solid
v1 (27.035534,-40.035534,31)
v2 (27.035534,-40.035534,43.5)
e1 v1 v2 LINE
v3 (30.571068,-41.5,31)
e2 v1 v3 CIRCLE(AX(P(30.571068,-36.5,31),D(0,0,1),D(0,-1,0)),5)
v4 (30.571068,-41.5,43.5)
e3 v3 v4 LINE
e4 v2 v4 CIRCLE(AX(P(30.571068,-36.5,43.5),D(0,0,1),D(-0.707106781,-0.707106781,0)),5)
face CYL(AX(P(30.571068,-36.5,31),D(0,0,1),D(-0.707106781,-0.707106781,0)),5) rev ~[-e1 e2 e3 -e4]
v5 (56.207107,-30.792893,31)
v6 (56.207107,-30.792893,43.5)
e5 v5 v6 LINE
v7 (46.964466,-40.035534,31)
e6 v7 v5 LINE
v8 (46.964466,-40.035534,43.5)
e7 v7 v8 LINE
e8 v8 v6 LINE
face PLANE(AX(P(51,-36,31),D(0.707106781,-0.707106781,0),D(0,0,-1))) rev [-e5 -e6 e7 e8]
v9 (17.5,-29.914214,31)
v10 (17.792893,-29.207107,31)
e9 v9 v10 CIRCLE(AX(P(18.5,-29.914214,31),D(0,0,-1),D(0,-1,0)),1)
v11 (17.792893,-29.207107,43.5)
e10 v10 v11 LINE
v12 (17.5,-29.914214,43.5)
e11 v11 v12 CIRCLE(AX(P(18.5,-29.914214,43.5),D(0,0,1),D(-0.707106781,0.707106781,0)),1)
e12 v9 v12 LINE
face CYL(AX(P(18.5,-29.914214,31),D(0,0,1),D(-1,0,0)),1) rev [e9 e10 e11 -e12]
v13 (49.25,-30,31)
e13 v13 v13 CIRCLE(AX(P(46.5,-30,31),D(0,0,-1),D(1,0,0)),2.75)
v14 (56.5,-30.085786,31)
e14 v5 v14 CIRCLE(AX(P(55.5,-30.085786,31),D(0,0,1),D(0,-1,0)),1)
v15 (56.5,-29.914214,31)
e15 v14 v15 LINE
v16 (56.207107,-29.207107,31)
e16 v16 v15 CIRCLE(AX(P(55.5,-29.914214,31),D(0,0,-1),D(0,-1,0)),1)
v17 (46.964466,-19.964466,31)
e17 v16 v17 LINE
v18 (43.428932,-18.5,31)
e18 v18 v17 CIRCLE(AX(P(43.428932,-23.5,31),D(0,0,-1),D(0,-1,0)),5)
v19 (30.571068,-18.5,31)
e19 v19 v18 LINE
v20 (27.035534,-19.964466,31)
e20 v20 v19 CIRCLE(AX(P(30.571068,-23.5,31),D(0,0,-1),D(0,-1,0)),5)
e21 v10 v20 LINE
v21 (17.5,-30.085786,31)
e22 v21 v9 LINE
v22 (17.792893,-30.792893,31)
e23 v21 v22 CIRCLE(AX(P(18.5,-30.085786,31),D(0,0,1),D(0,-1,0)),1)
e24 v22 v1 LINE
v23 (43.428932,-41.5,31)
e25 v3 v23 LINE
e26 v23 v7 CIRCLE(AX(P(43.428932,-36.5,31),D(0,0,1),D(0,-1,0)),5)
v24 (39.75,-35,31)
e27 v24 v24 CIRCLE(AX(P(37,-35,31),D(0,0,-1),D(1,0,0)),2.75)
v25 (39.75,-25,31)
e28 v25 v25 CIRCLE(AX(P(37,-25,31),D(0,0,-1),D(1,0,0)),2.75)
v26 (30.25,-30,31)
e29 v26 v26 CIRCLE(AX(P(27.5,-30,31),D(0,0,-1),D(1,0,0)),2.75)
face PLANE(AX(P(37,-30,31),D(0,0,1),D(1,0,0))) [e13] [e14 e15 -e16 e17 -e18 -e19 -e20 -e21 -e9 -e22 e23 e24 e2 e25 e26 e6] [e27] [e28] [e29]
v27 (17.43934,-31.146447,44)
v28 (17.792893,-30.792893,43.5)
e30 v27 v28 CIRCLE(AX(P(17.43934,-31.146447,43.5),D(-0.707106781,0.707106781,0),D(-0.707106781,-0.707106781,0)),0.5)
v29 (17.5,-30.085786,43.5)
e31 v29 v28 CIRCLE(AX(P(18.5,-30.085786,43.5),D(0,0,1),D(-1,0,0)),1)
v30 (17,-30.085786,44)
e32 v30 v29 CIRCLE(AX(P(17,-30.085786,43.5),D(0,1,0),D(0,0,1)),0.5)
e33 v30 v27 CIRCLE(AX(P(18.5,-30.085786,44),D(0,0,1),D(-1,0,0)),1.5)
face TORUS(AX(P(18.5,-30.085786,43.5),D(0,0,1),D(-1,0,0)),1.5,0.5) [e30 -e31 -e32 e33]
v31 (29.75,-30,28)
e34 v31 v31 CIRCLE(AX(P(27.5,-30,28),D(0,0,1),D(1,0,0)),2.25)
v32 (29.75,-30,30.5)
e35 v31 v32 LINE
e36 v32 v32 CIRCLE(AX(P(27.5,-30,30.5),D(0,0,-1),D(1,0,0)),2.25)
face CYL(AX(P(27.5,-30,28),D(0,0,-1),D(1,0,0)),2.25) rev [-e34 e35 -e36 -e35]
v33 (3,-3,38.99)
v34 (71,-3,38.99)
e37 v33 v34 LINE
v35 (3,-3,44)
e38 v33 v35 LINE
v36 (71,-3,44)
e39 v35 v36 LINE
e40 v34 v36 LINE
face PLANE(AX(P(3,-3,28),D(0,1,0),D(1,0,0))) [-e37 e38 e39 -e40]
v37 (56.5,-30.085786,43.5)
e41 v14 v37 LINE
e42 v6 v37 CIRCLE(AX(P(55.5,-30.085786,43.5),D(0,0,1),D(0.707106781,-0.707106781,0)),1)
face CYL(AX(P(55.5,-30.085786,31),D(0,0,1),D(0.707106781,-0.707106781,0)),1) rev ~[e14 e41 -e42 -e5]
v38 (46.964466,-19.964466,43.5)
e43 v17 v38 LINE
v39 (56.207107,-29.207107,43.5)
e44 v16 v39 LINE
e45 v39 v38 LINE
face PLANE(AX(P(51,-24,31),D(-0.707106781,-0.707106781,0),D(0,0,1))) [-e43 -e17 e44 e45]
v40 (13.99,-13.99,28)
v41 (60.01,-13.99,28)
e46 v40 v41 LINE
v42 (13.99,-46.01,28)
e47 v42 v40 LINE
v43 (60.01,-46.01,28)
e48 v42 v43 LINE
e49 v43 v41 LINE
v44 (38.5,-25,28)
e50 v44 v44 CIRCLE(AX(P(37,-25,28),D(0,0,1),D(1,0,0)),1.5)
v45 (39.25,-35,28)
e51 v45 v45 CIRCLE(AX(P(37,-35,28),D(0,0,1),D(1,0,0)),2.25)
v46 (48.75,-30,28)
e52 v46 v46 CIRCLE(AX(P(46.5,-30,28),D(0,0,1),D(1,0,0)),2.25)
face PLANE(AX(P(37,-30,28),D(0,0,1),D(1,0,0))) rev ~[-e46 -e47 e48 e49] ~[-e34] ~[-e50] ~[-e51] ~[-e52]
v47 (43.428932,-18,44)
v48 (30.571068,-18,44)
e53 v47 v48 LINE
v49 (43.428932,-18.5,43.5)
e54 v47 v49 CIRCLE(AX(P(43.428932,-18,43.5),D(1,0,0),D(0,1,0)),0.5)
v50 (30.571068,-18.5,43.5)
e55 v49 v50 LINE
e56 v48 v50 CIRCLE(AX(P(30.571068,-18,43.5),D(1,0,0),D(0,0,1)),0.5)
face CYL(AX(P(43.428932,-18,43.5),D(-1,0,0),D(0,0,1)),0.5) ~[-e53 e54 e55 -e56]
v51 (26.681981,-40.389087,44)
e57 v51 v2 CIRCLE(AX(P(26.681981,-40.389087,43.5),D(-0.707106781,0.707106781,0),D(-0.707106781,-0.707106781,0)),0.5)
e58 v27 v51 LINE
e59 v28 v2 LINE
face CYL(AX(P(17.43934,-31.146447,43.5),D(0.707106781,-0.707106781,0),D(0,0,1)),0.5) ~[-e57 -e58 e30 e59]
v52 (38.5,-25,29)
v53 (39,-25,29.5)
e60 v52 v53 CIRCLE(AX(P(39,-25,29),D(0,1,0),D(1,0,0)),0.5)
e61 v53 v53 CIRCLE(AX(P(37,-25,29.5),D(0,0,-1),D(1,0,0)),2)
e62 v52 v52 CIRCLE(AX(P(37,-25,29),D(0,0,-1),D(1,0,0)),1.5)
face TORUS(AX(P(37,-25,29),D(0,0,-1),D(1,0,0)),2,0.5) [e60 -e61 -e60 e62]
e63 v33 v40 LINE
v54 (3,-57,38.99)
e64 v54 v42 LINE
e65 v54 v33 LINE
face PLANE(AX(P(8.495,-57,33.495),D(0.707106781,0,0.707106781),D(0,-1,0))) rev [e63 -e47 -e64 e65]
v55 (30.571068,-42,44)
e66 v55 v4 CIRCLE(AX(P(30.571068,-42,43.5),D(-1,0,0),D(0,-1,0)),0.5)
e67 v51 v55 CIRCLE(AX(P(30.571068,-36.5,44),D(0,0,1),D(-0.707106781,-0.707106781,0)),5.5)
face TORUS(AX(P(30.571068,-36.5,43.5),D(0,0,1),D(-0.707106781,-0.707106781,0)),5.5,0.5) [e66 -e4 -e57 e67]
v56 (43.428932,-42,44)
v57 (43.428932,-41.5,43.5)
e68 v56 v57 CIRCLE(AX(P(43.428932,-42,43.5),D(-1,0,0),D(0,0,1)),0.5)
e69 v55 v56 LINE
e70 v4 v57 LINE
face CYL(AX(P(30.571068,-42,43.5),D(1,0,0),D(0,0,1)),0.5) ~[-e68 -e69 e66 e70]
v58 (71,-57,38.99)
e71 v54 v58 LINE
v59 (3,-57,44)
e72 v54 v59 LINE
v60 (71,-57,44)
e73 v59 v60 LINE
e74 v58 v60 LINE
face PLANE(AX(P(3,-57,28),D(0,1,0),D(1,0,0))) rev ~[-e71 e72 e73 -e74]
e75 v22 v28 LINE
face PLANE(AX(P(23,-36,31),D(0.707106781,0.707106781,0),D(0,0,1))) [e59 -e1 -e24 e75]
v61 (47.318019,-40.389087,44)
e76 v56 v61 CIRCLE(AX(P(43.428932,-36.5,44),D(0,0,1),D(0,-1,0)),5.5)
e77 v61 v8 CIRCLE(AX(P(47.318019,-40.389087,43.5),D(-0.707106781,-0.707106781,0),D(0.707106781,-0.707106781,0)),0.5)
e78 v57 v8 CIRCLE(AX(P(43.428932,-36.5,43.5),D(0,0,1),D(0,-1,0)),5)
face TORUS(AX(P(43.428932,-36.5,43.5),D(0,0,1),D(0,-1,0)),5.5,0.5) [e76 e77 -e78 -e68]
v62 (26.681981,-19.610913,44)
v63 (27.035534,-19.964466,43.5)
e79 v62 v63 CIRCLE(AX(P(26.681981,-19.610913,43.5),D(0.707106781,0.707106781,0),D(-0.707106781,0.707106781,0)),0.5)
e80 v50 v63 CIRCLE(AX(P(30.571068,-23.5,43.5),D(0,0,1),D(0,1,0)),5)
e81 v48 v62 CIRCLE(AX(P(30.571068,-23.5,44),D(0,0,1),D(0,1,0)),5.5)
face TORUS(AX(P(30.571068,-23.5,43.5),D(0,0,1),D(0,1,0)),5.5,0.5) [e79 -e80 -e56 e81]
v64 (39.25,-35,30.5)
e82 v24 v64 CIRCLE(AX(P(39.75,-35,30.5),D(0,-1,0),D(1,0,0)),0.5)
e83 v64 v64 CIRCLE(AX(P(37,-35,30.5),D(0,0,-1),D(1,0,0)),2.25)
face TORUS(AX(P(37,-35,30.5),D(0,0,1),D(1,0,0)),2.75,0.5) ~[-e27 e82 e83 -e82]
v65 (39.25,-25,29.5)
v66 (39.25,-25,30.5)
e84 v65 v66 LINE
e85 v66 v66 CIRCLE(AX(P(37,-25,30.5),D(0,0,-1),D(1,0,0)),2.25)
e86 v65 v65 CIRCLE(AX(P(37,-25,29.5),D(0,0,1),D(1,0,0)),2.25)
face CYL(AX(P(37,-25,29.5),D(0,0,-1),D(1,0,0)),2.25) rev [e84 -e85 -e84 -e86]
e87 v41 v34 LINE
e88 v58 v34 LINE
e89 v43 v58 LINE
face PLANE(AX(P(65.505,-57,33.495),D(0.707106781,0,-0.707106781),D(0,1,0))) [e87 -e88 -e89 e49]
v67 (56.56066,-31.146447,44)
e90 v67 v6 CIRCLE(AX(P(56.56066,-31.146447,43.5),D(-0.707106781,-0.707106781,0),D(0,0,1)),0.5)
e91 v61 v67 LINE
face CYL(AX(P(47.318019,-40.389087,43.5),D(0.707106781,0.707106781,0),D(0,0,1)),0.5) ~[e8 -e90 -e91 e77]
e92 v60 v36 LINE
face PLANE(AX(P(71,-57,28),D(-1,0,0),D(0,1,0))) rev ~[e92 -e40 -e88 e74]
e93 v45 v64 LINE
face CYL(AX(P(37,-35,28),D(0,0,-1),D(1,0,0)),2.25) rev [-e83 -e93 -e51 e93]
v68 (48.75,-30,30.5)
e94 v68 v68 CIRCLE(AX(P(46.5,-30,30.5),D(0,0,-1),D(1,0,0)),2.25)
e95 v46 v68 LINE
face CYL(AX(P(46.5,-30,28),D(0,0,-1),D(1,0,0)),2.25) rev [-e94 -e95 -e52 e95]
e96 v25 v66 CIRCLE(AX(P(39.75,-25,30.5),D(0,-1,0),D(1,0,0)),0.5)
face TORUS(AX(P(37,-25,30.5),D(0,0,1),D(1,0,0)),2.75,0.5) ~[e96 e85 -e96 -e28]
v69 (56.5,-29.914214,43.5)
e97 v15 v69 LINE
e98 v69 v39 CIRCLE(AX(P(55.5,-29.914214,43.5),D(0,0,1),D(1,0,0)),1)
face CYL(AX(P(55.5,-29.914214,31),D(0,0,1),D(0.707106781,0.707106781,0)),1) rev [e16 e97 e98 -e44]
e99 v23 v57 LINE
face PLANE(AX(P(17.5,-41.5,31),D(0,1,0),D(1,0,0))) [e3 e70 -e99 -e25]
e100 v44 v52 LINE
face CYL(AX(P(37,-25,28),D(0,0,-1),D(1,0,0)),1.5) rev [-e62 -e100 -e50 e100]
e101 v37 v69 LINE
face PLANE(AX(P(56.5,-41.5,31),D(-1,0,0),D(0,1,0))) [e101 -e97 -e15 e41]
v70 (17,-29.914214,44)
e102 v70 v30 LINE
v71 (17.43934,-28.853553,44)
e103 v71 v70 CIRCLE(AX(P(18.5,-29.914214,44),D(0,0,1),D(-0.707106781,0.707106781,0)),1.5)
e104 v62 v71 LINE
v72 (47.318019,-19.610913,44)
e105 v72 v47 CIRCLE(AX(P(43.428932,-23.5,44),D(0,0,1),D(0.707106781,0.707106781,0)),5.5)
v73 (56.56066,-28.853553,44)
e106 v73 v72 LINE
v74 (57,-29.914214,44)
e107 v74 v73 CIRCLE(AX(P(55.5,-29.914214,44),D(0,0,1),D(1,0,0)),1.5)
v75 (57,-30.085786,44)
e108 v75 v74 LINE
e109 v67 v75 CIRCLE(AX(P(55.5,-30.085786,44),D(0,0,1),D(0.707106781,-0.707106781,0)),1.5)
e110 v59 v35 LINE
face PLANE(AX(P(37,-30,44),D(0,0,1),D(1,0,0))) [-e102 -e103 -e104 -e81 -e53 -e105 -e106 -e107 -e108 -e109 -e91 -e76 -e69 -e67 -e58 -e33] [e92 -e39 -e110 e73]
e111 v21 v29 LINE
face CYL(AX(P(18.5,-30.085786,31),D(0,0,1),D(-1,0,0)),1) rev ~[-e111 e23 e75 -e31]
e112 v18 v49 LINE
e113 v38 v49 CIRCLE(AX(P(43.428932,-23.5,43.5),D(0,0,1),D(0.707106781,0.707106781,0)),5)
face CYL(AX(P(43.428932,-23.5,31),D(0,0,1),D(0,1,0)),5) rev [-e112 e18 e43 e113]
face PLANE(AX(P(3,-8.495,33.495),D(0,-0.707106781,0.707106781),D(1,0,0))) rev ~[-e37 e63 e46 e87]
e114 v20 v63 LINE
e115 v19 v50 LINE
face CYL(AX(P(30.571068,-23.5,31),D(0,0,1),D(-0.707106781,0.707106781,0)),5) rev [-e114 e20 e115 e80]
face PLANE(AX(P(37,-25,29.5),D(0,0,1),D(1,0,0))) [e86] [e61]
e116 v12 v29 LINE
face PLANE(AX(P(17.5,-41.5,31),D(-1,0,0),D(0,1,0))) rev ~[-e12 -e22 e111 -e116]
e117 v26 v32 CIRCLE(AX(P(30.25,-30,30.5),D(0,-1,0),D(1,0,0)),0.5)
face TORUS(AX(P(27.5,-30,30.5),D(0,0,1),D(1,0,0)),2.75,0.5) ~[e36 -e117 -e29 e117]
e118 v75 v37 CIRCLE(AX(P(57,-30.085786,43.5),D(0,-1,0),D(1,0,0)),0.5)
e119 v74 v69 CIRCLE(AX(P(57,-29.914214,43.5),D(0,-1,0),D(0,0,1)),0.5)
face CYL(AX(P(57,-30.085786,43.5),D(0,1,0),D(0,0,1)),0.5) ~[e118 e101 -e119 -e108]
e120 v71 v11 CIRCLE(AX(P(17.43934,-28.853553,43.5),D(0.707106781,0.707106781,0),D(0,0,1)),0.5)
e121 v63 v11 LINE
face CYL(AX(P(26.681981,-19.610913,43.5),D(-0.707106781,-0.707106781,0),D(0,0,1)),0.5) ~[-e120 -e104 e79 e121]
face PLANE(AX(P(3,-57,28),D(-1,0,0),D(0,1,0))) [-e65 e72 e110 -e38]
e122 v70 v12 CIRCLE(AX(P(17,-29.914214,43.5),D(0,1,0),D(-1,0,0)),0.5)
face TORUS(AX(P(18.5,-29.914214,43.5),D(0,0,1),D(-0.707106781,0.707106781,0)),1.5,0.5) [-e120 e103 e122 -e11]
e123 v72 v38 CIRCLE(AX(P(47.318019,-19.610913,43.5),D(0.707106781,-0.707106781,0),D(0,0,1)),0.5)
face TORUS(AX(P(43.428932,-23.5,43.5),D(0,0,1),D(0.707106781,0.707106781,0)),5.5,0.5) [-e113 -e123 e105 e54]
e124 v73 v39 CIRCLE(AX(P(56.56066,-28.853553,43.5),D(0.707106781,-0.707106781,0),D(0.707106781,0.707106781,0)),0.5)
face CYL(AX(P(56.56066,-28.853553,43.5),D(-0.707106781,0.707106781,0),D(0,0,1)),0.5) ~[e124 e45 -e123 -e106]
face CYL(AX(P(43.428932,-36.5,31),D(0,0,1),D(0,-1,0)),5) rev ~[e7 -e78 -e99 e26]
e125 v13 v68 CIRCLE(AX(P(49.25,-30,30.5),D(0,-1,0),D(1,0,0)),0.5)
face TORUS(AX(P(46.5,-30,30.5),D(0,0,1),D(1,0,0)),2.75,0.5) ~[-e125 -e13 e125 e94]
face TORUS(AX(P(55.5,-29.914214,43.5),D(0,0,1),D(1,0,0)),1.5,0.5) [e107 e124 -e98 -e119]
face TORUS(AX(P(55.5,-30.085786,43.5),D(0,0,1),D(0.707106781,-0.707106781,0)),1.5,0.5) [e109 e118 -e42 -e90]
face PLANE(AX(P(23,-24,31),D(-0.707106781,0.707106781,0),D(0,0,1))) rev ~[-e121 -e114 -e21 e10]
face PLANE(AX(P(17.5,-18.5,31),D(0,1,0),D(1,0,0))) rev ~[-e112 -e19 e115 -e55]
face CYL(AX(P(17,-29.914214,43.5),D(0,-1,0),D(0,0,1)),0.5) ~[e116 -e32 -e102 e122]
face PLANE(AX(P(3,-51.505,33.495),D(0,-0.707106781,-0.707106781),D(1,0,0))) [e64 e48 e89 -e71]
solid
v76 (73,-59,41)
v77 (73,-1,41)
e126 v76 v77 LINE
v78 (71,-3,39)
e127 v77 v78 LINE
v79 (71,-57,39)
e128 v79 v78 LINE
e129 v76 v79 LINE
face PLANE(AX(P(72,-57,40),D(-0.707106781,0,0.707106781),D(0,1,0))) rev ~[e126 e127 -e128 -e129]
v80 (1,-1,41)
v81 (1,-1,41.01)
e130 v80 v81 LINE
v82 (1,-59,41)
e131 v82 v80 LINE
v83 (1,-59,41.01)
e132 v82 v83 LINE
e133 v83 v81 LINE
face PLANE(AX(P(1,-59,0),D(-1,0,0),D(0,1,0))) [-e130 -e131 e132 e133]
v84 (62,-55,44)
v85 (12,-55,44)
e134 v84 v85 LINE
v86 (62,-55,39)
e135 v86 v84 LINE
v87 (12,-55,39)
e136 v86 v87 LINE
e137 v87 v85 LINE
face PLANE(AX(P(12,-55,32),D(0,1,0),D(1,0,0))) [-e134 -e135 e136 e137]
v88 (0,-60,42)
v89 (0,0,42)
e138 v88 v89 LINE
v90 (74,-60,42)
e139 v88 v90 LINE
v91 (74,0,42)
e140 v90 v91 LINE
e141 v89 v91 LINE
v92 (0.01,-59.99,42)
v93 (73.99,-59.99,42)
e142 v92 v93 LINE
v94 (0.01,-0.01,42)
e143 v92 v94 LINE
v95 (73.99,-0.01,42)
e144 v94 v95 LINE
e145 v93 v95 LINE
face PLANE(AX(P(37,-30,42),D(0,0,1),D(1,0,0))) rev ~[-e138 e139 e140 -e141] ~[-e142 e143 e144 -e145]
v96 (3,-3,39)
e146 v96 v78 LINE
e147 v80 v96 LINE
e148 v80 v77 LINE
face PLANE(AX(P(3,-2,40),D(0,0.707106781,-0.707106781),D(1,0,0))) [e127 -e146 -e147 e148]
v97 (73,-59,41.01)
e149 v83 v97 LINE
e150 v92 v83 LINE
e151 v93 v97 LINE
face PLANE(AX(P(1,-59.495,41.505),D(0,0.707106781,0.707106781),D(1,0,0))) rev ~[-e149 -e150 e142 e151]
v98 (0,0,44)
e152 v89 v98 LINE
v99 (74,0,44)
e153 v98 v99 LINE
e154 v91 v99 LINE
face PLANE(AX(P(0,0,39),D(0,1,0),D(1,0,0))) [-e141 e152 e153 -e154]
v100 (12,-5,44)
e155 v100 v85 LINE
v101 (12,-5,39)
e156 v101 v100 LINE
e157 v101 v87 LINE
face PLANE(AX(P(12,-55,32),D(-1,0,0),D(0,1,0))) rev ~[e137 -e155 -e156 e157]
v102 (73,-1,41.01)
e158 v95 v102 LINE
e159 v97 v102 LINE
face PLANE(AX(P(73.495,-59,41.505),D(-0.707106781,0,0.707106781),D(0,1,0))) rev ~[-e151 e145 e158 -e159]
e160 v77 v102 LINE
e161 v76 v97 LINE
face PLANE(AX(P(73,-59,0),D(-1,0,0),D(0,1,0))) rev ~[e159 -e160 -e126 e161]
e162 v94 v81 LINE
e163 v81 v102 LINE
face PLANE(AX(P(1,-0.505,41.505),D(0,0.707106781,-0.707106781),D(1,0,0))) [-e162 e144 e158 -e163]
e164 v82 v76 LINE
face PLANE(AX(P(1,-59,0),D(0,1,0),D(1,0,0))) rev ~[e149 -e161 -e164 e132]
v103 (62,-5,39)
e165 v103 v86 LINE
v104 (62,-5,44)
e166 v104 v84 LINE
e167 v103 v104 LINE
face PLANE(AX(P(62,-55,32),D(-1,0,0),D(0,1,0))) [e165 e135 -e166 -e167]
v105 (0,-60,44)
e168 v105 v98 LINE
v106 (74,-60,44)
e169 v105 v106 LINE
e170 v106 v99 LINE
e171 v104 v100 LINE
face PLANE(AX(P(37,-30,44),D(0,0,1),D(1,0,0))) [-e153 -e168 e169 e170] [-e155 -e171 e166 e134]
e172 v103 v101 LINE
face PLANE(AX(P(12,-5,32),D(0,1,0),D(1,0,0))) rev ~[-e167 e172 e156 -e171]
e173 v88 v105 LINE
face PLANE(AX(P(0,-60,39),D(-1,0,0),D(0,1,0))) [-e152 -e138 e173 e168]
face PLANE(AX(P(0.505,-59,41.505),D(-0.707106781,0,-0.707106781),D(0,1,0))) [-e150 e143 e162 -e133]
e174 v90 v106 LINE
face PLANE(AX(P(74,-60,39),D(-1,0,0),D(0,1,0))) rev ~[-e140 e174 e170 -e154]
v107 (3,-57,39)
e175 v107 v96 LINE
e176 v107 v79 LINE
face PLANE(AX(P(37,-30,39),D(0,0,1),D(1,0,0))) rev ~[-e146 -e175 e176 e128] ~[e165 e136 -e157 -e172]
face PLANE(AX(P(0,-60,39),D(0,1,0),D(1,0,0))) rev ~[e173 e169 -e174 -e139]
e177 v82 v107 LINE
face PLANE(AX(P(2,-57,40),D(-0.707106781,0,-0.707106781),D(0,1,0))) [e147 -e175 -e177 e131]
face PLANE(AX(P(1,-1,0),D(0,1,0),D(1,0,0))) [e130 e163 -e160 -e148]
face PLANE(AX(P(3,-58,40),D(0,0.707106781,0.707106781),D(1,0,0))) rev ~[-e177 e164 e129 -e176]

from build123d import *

# Parameters (mm, degrees)
BOX042_W          = 50
BOX042_H          = 50
BOX042_DEPTH      = 13
BOX039_W          = 68
BOX039_H          = 54
BOX039_DEPTH      = 4.1
BOX038_W          = 74
BOX038_H          = 60
BOX038_DEPTH      = 4.1
CHAMFER021_SIZE   = 2
CHAMFER022_SIZE   = 2
BOX033_W          = 72
BOX033_H          = 58
BOX033_DEPTH      = 42
BOX032_W          = 74
BOX032_H          = 60
BOX032_DEPTH      = 42
CHAMFER020_SIZE   = 0.99
BOX041_W          = 74
BOX041_H          = 60
BOX041_DEPTH      = 5
BOX040_W          = 74
BOX040_H          = 60
BOX040_DEPTH      = 10
CYLINDER004_R     = 1.5
CYLINDER004_DEPTH = 20
CYLINDER003_R     = 2.25
CYLINDER003_DEPTH = 20
CYLINDER002_R     = 2.25
CYLINDER002_DEPTH = 20
CYLINDER001_R     = 2.25
CYLINDER001_DEPTH = 20
CYLINDER_R        = 2.25
CYLINDER_DEPTH    = 20
BOX001_W          = 39
BOX001_H          = 23
BOX001_DEPTH      = 16
CHAMFER_SIZE      = 11
FILLET_R          = 1
FILLET001_R       = 5
BOX_W             = 68
BOX_H             = 54
BOX_DEPTH         = 19
CHAMFER023_SIZE   = 10.99
FILLET002_R       = 0.5
FILLET003_R       = 0.5


with BuildPart() as cube003:
    # Box042 → Box042 (new body)
    with BuildSketch(Plane(origin=(12, -55, 32), x_dir=(1, 0, 0), z_dir=(0, 0, 1))):
        with Locations((25, 25)):
            Rectangle(BOX042_W, BOX042_H)
    extrude(amount=BOX042_DEPTH)


with BuildPart() as kragen_stecker_ausschnitt:
    # Box039 → Box039 (new body)
    with BuildSketch(Plane(origin=(3, -57, 0), x_dir=(1, 0, 0), z_dir=(0, 0, 1))):
        with Locations((34, 27)):
            Rectangle(BOX039_W, BOX039_H)
    extrude(amount=BOX039_DEPTH)


with BuildPart() as chamfer022:
    # Box038 → Box038 (new body)
    with BuildSketch(Plane(origin=(0, -60, 0), x_dir=(1, 0, 0), z_dir=(0, 0, 1))):
        with Locations((37, 30)):
            Rectangle(BOX038_W, BOX038_H)
    extrude(amount=BOX038_DEPTH)

    # Cut019: cut Kragen Stecker Ausschnitt
    add(kragen_stecker_ausschnitt.part, mode=Mode.SUBTRACT)


with BuildPart() as chamfer022_1:
    # Cut019 placement: moved
    add(chamfer022.part.moved(Location((0, 0, 36.9))))

    # Chamfer021
    chamfer021_edges = [chamfer022_1.edges().sort_by_distance(p)[0] for p in [
        (37, -3, 41),
        (3, -30, 41),
        (37, -57, 41),
        (71, -30, 41),
    ]]
    chamfer(chamfer021_edges, length=CHAMFER021_SIZE)

    # Chamfer022
    chamfer022_edges = [chamfer022_1.edges().sort_by_distance(p)[0] for p in [
        (37, -3, 36.9),
        (3, -30, 36.9),
        (71, -30, 36.9),
        (37, -57, 36.9),
    ]]
    chamfer(chamfer022_edges, length=CHAMFER022_SIZE)


with BuildPart() as ausschnitt_stecker:
    # Box033 → Box033 (new body)
    with BuildSketch(Plane(origin=(1, -59, 0), x_dir=(1, 0, 0), z_dir=(0, 0, 1))):
        with Locations((36, 29)):
            Rectangle(BOX033_W, BOX033_H)
    extrude(amount=BOX033_DEPTH)


with BuildPart() as form:
    # Box032 → Box032 (new body)
    with BuildSketch(Plane(origin=(0, -60, 0), x_dir=(1, 0, 0), z_dir=(0, 0, 1))):
        with Locations((37, 30)):
            Rectangle(BOX032_W, BOX032_H)
    extrude(amount=BOX032_DEPTH)

    # Cut014: cut Ausschnitt Stecker
    add(ausschnitt_stecker.part, mode=Mode.SUBTRACT)

    # Chamfer020
    chamfer020_edges = [form.edges().sort_by_distance(p)[0] for p in [
        (37, -1, 42),
        (1, -30, 42),
        (37, -59, 42),
        (73, -30, 42),
    ]]
    chamfer(chamfer020_edges, length=CHAMFER020_SIZE)

    # Fusion: union Chamfer022
    add(chamfer022_1.part)


with BuildPart() as cut022:
    # Box041 → Box041 (new body)
    with BuildSketch(Plane(origin=(0, -60, 39), x_dir=(1, 0, 0), z_dir=(0, 0, 1))):
        with Locations((37, 30)):
            Rectangle(BOX041_W, BOX041_H)
    extrude(amount=BOX041_DEPTH)

    # Cut021: cut Form
    add(form.part, mode=Mode.SUBTRACT)

    # Cut022: cut Cube003
    add(cube003.part, mode=Mode.SUBTRACT)


with BuildPart() as cube:
    # Box040 → Box040 (new body)
    with BuildSketch(Plane(origin=(0, -60, 44), x_dir=(1, 0, 0), z_dir=(0, 0, 1))):
        with Locations((37, 30)):
            Rectangle(BOX040_W, BOX040_H)
    extrude(amount=BOX040_DEPTH)


with BuildPart() as cylinder004:
    # Cylinder004 → Cylinder004 (new body)
    with BuildSketch(Plane(origin=(0, 5, 0), x_dir=(1, 0, 0), z_dir=(0, 0, 1))):
        Circle(CYLINDER004_R)
    extrude(amount=CYLINDER004_DEPTH)


with BuildPart() as cylinder003:
    # Cylinder003 → Cylinder003 (new body)
    with BuildSketch(Plane(origin=(0, 5, 1.5), x_dir=(1, 0, 0), z_dir=(0, 0, 1))):
        Circle(CYLINDER003_R)
    extrude(amount=CYLINDER003_DEPTH)


with BuildPart() as cylinder002:
    # Cylinder002 → Cylinder002 (new body)
    with BuildSketch(Plane(origin=(0, -5, 0), x_dir=(1, 0, 0), z_dir=(0, 0, 1))):
        Circle(CYLINDER002_R)
    extrude(amount=CYLINDER002_DEPTH)


with BuildPart() as cylinder001:
    # Cylinder001 → Cylinder001 (new body)
    with BuildSketch(Plane(origin=(9.5, 0, 0), x_dir=(1, 0, 0), z_dir=(0, 0, 1))):
        Circle(CYLINDER001_R)
    extrude(amount=CYLINDER001_DEPTH)


with BuildPart() as cylinder000:
    # Cylinder → Cylinder (new body)
    with BuildSketch(Plane(origin=(-9.5, 0, 0), x_dir=(1, 0, 0), z_dir=(0, 0, 1))):
        Circle(CYLINDER_R)
    extrude(amount=CYLINDER_DEPTH)


with BuildPart() as ausschnitt:
    # Box001 → Box001 (new body)
    with BuildSketch(Plane(origin=(50, 0, 0), x_dir=(1, 0, 0), z_dir=(0, 0, 1))):
        with Locations((19.5, 11.5)):
            Rectangle(BOX001_W, BOX001_H)
    extrude(amount=BOX001_DEPTH)

    # Chamfer
    chamfer_edges = [ausschnitt.edges().sort_by_distance(p)[0] for p in [
        (50, 0, 8),
        (50, 23, 8),
        (89, 0, 8),
        (89, 23, 8),
    ]]
    chamfer(chamfer_edges, length=CHAMFER_SIZE)

    # Fillet
    fillet_edges = [ausschnitt.edges().sort_by_distance(p)[0] for p in [
        (50, 11, 8),
        (50, 12, 8),
        (89, 11, 8),
        (89, 12, 8),
    ]]
    fillet(fillet_edges, radius=FILLET_R)

    # Fillet001
    fillet001_edges = [ausschnitt.edges().sort_by_distance(p)[0] for p in [
        (61, 0, 8),
        (61, 23, 8),
        (78, 0, 8),
        (78, 23, 8),
    ]]
    fillet(fillet001_edges, radius=FILLET001_R)


with BuildPart() as ausschnitt_1:
    # Fillet001 placement: moved
    add(ausschnitt.part.moved(Location((-69.5, -11.5, 3))))


with BuildPart() as fillet003:
    # Box → Box (new body)
    with BuildSketch(Plane(origin=(-34, -27, 0), x_dir=(1, 0, 0), z_dir=(0, 0, 1))):
        with Locations((34, 27)):
            Rectangle(BOX_W, BOX_H)
    extrude(amount=BOX_DEPTH)

    # Cut: cut Ausschnitt
    add(ausschnitt_1.part, mode=Mode.SUBTRACT)

    # Cut001: cut Cylinder000
    add(cylinder000.part, mode=Mode.SUBTRACT)

    # Cut002: cut Cylinder001
    add(cylinder001.part, mode=Mode.SUBTRACT)

    # Cut003: cut Cylinder002
    add(cylinder002.part, mode=Mode.SUBTRACT)

    # Cut004: cut Cylinder003
    add(cylinder003.part, mode=Mode.SUBTRACT)

    # Cut005: cut Cylinder004
    add(cylinder004.part, mode=Mode.SUBTRACT)


with BuildPart() as fillet003_1:
    # Cut005 placement: moved
    add(fillet003.part.moved(Location((37, -30, 28))))

    # Cut020: cut Cube
    add(cube.part, mode=Mode.SUBTRACT)

    # Chamfer023
    chamfer023_edges = [fillet003_1.edges().sort_by_distance(p)[0] for p in [
        (3, -30, 28),
        (37, -57, 28),
        (37, -3, 28),
        (71, -30, 28),
    ]]
    chamfer(chamfer023_edges, length=CHAMFER023_SIZE)

    # Fillet002
    fillet002_edges = [fillet003_1.edges().sort_by_distance(p)[0] for p in [
        (28.657651, -41.119398, 44),
        (37, -41.5, 44),
        (45.342349, -41.119398, 44),
        (51.585786, -35.414214, 44),
        (56.42388, -30.46847, 44),
        (56.5, -30, 44),
        (56.42388, -29.53153, 44),
        (51.585786, -24.585786, 44),
        (45.342349, -18.880602, 44),
        (37, -18.5, 44),
        (28.657651, -18.880602, 44),
        (22.414214, -24.585786, 44),
        (17.57612, -29.53153, 44),
        (17.5, -30, 44),
        (17.57612, -30.46847, 44),
        (22.414214, -35.414214, 44),
    ]]
    fillet(fillet002_edges, radius=FILLET002_R)

    # Fillet003
    fillet003_edges = [fillet003_1.edges().sort_by_distance(p)[0] for p in [
        (34.75, -25, 31),
        (44.25, -30, 31),
        (34.75, -35, 31),
        (25.25, -30, 31),
        (35.5, -25, 29.5),
    ]]
    fillet(fillet003_edges, radius=FILLET003_R)


solid = Compound([cut022.part, fillet003_1.part])
